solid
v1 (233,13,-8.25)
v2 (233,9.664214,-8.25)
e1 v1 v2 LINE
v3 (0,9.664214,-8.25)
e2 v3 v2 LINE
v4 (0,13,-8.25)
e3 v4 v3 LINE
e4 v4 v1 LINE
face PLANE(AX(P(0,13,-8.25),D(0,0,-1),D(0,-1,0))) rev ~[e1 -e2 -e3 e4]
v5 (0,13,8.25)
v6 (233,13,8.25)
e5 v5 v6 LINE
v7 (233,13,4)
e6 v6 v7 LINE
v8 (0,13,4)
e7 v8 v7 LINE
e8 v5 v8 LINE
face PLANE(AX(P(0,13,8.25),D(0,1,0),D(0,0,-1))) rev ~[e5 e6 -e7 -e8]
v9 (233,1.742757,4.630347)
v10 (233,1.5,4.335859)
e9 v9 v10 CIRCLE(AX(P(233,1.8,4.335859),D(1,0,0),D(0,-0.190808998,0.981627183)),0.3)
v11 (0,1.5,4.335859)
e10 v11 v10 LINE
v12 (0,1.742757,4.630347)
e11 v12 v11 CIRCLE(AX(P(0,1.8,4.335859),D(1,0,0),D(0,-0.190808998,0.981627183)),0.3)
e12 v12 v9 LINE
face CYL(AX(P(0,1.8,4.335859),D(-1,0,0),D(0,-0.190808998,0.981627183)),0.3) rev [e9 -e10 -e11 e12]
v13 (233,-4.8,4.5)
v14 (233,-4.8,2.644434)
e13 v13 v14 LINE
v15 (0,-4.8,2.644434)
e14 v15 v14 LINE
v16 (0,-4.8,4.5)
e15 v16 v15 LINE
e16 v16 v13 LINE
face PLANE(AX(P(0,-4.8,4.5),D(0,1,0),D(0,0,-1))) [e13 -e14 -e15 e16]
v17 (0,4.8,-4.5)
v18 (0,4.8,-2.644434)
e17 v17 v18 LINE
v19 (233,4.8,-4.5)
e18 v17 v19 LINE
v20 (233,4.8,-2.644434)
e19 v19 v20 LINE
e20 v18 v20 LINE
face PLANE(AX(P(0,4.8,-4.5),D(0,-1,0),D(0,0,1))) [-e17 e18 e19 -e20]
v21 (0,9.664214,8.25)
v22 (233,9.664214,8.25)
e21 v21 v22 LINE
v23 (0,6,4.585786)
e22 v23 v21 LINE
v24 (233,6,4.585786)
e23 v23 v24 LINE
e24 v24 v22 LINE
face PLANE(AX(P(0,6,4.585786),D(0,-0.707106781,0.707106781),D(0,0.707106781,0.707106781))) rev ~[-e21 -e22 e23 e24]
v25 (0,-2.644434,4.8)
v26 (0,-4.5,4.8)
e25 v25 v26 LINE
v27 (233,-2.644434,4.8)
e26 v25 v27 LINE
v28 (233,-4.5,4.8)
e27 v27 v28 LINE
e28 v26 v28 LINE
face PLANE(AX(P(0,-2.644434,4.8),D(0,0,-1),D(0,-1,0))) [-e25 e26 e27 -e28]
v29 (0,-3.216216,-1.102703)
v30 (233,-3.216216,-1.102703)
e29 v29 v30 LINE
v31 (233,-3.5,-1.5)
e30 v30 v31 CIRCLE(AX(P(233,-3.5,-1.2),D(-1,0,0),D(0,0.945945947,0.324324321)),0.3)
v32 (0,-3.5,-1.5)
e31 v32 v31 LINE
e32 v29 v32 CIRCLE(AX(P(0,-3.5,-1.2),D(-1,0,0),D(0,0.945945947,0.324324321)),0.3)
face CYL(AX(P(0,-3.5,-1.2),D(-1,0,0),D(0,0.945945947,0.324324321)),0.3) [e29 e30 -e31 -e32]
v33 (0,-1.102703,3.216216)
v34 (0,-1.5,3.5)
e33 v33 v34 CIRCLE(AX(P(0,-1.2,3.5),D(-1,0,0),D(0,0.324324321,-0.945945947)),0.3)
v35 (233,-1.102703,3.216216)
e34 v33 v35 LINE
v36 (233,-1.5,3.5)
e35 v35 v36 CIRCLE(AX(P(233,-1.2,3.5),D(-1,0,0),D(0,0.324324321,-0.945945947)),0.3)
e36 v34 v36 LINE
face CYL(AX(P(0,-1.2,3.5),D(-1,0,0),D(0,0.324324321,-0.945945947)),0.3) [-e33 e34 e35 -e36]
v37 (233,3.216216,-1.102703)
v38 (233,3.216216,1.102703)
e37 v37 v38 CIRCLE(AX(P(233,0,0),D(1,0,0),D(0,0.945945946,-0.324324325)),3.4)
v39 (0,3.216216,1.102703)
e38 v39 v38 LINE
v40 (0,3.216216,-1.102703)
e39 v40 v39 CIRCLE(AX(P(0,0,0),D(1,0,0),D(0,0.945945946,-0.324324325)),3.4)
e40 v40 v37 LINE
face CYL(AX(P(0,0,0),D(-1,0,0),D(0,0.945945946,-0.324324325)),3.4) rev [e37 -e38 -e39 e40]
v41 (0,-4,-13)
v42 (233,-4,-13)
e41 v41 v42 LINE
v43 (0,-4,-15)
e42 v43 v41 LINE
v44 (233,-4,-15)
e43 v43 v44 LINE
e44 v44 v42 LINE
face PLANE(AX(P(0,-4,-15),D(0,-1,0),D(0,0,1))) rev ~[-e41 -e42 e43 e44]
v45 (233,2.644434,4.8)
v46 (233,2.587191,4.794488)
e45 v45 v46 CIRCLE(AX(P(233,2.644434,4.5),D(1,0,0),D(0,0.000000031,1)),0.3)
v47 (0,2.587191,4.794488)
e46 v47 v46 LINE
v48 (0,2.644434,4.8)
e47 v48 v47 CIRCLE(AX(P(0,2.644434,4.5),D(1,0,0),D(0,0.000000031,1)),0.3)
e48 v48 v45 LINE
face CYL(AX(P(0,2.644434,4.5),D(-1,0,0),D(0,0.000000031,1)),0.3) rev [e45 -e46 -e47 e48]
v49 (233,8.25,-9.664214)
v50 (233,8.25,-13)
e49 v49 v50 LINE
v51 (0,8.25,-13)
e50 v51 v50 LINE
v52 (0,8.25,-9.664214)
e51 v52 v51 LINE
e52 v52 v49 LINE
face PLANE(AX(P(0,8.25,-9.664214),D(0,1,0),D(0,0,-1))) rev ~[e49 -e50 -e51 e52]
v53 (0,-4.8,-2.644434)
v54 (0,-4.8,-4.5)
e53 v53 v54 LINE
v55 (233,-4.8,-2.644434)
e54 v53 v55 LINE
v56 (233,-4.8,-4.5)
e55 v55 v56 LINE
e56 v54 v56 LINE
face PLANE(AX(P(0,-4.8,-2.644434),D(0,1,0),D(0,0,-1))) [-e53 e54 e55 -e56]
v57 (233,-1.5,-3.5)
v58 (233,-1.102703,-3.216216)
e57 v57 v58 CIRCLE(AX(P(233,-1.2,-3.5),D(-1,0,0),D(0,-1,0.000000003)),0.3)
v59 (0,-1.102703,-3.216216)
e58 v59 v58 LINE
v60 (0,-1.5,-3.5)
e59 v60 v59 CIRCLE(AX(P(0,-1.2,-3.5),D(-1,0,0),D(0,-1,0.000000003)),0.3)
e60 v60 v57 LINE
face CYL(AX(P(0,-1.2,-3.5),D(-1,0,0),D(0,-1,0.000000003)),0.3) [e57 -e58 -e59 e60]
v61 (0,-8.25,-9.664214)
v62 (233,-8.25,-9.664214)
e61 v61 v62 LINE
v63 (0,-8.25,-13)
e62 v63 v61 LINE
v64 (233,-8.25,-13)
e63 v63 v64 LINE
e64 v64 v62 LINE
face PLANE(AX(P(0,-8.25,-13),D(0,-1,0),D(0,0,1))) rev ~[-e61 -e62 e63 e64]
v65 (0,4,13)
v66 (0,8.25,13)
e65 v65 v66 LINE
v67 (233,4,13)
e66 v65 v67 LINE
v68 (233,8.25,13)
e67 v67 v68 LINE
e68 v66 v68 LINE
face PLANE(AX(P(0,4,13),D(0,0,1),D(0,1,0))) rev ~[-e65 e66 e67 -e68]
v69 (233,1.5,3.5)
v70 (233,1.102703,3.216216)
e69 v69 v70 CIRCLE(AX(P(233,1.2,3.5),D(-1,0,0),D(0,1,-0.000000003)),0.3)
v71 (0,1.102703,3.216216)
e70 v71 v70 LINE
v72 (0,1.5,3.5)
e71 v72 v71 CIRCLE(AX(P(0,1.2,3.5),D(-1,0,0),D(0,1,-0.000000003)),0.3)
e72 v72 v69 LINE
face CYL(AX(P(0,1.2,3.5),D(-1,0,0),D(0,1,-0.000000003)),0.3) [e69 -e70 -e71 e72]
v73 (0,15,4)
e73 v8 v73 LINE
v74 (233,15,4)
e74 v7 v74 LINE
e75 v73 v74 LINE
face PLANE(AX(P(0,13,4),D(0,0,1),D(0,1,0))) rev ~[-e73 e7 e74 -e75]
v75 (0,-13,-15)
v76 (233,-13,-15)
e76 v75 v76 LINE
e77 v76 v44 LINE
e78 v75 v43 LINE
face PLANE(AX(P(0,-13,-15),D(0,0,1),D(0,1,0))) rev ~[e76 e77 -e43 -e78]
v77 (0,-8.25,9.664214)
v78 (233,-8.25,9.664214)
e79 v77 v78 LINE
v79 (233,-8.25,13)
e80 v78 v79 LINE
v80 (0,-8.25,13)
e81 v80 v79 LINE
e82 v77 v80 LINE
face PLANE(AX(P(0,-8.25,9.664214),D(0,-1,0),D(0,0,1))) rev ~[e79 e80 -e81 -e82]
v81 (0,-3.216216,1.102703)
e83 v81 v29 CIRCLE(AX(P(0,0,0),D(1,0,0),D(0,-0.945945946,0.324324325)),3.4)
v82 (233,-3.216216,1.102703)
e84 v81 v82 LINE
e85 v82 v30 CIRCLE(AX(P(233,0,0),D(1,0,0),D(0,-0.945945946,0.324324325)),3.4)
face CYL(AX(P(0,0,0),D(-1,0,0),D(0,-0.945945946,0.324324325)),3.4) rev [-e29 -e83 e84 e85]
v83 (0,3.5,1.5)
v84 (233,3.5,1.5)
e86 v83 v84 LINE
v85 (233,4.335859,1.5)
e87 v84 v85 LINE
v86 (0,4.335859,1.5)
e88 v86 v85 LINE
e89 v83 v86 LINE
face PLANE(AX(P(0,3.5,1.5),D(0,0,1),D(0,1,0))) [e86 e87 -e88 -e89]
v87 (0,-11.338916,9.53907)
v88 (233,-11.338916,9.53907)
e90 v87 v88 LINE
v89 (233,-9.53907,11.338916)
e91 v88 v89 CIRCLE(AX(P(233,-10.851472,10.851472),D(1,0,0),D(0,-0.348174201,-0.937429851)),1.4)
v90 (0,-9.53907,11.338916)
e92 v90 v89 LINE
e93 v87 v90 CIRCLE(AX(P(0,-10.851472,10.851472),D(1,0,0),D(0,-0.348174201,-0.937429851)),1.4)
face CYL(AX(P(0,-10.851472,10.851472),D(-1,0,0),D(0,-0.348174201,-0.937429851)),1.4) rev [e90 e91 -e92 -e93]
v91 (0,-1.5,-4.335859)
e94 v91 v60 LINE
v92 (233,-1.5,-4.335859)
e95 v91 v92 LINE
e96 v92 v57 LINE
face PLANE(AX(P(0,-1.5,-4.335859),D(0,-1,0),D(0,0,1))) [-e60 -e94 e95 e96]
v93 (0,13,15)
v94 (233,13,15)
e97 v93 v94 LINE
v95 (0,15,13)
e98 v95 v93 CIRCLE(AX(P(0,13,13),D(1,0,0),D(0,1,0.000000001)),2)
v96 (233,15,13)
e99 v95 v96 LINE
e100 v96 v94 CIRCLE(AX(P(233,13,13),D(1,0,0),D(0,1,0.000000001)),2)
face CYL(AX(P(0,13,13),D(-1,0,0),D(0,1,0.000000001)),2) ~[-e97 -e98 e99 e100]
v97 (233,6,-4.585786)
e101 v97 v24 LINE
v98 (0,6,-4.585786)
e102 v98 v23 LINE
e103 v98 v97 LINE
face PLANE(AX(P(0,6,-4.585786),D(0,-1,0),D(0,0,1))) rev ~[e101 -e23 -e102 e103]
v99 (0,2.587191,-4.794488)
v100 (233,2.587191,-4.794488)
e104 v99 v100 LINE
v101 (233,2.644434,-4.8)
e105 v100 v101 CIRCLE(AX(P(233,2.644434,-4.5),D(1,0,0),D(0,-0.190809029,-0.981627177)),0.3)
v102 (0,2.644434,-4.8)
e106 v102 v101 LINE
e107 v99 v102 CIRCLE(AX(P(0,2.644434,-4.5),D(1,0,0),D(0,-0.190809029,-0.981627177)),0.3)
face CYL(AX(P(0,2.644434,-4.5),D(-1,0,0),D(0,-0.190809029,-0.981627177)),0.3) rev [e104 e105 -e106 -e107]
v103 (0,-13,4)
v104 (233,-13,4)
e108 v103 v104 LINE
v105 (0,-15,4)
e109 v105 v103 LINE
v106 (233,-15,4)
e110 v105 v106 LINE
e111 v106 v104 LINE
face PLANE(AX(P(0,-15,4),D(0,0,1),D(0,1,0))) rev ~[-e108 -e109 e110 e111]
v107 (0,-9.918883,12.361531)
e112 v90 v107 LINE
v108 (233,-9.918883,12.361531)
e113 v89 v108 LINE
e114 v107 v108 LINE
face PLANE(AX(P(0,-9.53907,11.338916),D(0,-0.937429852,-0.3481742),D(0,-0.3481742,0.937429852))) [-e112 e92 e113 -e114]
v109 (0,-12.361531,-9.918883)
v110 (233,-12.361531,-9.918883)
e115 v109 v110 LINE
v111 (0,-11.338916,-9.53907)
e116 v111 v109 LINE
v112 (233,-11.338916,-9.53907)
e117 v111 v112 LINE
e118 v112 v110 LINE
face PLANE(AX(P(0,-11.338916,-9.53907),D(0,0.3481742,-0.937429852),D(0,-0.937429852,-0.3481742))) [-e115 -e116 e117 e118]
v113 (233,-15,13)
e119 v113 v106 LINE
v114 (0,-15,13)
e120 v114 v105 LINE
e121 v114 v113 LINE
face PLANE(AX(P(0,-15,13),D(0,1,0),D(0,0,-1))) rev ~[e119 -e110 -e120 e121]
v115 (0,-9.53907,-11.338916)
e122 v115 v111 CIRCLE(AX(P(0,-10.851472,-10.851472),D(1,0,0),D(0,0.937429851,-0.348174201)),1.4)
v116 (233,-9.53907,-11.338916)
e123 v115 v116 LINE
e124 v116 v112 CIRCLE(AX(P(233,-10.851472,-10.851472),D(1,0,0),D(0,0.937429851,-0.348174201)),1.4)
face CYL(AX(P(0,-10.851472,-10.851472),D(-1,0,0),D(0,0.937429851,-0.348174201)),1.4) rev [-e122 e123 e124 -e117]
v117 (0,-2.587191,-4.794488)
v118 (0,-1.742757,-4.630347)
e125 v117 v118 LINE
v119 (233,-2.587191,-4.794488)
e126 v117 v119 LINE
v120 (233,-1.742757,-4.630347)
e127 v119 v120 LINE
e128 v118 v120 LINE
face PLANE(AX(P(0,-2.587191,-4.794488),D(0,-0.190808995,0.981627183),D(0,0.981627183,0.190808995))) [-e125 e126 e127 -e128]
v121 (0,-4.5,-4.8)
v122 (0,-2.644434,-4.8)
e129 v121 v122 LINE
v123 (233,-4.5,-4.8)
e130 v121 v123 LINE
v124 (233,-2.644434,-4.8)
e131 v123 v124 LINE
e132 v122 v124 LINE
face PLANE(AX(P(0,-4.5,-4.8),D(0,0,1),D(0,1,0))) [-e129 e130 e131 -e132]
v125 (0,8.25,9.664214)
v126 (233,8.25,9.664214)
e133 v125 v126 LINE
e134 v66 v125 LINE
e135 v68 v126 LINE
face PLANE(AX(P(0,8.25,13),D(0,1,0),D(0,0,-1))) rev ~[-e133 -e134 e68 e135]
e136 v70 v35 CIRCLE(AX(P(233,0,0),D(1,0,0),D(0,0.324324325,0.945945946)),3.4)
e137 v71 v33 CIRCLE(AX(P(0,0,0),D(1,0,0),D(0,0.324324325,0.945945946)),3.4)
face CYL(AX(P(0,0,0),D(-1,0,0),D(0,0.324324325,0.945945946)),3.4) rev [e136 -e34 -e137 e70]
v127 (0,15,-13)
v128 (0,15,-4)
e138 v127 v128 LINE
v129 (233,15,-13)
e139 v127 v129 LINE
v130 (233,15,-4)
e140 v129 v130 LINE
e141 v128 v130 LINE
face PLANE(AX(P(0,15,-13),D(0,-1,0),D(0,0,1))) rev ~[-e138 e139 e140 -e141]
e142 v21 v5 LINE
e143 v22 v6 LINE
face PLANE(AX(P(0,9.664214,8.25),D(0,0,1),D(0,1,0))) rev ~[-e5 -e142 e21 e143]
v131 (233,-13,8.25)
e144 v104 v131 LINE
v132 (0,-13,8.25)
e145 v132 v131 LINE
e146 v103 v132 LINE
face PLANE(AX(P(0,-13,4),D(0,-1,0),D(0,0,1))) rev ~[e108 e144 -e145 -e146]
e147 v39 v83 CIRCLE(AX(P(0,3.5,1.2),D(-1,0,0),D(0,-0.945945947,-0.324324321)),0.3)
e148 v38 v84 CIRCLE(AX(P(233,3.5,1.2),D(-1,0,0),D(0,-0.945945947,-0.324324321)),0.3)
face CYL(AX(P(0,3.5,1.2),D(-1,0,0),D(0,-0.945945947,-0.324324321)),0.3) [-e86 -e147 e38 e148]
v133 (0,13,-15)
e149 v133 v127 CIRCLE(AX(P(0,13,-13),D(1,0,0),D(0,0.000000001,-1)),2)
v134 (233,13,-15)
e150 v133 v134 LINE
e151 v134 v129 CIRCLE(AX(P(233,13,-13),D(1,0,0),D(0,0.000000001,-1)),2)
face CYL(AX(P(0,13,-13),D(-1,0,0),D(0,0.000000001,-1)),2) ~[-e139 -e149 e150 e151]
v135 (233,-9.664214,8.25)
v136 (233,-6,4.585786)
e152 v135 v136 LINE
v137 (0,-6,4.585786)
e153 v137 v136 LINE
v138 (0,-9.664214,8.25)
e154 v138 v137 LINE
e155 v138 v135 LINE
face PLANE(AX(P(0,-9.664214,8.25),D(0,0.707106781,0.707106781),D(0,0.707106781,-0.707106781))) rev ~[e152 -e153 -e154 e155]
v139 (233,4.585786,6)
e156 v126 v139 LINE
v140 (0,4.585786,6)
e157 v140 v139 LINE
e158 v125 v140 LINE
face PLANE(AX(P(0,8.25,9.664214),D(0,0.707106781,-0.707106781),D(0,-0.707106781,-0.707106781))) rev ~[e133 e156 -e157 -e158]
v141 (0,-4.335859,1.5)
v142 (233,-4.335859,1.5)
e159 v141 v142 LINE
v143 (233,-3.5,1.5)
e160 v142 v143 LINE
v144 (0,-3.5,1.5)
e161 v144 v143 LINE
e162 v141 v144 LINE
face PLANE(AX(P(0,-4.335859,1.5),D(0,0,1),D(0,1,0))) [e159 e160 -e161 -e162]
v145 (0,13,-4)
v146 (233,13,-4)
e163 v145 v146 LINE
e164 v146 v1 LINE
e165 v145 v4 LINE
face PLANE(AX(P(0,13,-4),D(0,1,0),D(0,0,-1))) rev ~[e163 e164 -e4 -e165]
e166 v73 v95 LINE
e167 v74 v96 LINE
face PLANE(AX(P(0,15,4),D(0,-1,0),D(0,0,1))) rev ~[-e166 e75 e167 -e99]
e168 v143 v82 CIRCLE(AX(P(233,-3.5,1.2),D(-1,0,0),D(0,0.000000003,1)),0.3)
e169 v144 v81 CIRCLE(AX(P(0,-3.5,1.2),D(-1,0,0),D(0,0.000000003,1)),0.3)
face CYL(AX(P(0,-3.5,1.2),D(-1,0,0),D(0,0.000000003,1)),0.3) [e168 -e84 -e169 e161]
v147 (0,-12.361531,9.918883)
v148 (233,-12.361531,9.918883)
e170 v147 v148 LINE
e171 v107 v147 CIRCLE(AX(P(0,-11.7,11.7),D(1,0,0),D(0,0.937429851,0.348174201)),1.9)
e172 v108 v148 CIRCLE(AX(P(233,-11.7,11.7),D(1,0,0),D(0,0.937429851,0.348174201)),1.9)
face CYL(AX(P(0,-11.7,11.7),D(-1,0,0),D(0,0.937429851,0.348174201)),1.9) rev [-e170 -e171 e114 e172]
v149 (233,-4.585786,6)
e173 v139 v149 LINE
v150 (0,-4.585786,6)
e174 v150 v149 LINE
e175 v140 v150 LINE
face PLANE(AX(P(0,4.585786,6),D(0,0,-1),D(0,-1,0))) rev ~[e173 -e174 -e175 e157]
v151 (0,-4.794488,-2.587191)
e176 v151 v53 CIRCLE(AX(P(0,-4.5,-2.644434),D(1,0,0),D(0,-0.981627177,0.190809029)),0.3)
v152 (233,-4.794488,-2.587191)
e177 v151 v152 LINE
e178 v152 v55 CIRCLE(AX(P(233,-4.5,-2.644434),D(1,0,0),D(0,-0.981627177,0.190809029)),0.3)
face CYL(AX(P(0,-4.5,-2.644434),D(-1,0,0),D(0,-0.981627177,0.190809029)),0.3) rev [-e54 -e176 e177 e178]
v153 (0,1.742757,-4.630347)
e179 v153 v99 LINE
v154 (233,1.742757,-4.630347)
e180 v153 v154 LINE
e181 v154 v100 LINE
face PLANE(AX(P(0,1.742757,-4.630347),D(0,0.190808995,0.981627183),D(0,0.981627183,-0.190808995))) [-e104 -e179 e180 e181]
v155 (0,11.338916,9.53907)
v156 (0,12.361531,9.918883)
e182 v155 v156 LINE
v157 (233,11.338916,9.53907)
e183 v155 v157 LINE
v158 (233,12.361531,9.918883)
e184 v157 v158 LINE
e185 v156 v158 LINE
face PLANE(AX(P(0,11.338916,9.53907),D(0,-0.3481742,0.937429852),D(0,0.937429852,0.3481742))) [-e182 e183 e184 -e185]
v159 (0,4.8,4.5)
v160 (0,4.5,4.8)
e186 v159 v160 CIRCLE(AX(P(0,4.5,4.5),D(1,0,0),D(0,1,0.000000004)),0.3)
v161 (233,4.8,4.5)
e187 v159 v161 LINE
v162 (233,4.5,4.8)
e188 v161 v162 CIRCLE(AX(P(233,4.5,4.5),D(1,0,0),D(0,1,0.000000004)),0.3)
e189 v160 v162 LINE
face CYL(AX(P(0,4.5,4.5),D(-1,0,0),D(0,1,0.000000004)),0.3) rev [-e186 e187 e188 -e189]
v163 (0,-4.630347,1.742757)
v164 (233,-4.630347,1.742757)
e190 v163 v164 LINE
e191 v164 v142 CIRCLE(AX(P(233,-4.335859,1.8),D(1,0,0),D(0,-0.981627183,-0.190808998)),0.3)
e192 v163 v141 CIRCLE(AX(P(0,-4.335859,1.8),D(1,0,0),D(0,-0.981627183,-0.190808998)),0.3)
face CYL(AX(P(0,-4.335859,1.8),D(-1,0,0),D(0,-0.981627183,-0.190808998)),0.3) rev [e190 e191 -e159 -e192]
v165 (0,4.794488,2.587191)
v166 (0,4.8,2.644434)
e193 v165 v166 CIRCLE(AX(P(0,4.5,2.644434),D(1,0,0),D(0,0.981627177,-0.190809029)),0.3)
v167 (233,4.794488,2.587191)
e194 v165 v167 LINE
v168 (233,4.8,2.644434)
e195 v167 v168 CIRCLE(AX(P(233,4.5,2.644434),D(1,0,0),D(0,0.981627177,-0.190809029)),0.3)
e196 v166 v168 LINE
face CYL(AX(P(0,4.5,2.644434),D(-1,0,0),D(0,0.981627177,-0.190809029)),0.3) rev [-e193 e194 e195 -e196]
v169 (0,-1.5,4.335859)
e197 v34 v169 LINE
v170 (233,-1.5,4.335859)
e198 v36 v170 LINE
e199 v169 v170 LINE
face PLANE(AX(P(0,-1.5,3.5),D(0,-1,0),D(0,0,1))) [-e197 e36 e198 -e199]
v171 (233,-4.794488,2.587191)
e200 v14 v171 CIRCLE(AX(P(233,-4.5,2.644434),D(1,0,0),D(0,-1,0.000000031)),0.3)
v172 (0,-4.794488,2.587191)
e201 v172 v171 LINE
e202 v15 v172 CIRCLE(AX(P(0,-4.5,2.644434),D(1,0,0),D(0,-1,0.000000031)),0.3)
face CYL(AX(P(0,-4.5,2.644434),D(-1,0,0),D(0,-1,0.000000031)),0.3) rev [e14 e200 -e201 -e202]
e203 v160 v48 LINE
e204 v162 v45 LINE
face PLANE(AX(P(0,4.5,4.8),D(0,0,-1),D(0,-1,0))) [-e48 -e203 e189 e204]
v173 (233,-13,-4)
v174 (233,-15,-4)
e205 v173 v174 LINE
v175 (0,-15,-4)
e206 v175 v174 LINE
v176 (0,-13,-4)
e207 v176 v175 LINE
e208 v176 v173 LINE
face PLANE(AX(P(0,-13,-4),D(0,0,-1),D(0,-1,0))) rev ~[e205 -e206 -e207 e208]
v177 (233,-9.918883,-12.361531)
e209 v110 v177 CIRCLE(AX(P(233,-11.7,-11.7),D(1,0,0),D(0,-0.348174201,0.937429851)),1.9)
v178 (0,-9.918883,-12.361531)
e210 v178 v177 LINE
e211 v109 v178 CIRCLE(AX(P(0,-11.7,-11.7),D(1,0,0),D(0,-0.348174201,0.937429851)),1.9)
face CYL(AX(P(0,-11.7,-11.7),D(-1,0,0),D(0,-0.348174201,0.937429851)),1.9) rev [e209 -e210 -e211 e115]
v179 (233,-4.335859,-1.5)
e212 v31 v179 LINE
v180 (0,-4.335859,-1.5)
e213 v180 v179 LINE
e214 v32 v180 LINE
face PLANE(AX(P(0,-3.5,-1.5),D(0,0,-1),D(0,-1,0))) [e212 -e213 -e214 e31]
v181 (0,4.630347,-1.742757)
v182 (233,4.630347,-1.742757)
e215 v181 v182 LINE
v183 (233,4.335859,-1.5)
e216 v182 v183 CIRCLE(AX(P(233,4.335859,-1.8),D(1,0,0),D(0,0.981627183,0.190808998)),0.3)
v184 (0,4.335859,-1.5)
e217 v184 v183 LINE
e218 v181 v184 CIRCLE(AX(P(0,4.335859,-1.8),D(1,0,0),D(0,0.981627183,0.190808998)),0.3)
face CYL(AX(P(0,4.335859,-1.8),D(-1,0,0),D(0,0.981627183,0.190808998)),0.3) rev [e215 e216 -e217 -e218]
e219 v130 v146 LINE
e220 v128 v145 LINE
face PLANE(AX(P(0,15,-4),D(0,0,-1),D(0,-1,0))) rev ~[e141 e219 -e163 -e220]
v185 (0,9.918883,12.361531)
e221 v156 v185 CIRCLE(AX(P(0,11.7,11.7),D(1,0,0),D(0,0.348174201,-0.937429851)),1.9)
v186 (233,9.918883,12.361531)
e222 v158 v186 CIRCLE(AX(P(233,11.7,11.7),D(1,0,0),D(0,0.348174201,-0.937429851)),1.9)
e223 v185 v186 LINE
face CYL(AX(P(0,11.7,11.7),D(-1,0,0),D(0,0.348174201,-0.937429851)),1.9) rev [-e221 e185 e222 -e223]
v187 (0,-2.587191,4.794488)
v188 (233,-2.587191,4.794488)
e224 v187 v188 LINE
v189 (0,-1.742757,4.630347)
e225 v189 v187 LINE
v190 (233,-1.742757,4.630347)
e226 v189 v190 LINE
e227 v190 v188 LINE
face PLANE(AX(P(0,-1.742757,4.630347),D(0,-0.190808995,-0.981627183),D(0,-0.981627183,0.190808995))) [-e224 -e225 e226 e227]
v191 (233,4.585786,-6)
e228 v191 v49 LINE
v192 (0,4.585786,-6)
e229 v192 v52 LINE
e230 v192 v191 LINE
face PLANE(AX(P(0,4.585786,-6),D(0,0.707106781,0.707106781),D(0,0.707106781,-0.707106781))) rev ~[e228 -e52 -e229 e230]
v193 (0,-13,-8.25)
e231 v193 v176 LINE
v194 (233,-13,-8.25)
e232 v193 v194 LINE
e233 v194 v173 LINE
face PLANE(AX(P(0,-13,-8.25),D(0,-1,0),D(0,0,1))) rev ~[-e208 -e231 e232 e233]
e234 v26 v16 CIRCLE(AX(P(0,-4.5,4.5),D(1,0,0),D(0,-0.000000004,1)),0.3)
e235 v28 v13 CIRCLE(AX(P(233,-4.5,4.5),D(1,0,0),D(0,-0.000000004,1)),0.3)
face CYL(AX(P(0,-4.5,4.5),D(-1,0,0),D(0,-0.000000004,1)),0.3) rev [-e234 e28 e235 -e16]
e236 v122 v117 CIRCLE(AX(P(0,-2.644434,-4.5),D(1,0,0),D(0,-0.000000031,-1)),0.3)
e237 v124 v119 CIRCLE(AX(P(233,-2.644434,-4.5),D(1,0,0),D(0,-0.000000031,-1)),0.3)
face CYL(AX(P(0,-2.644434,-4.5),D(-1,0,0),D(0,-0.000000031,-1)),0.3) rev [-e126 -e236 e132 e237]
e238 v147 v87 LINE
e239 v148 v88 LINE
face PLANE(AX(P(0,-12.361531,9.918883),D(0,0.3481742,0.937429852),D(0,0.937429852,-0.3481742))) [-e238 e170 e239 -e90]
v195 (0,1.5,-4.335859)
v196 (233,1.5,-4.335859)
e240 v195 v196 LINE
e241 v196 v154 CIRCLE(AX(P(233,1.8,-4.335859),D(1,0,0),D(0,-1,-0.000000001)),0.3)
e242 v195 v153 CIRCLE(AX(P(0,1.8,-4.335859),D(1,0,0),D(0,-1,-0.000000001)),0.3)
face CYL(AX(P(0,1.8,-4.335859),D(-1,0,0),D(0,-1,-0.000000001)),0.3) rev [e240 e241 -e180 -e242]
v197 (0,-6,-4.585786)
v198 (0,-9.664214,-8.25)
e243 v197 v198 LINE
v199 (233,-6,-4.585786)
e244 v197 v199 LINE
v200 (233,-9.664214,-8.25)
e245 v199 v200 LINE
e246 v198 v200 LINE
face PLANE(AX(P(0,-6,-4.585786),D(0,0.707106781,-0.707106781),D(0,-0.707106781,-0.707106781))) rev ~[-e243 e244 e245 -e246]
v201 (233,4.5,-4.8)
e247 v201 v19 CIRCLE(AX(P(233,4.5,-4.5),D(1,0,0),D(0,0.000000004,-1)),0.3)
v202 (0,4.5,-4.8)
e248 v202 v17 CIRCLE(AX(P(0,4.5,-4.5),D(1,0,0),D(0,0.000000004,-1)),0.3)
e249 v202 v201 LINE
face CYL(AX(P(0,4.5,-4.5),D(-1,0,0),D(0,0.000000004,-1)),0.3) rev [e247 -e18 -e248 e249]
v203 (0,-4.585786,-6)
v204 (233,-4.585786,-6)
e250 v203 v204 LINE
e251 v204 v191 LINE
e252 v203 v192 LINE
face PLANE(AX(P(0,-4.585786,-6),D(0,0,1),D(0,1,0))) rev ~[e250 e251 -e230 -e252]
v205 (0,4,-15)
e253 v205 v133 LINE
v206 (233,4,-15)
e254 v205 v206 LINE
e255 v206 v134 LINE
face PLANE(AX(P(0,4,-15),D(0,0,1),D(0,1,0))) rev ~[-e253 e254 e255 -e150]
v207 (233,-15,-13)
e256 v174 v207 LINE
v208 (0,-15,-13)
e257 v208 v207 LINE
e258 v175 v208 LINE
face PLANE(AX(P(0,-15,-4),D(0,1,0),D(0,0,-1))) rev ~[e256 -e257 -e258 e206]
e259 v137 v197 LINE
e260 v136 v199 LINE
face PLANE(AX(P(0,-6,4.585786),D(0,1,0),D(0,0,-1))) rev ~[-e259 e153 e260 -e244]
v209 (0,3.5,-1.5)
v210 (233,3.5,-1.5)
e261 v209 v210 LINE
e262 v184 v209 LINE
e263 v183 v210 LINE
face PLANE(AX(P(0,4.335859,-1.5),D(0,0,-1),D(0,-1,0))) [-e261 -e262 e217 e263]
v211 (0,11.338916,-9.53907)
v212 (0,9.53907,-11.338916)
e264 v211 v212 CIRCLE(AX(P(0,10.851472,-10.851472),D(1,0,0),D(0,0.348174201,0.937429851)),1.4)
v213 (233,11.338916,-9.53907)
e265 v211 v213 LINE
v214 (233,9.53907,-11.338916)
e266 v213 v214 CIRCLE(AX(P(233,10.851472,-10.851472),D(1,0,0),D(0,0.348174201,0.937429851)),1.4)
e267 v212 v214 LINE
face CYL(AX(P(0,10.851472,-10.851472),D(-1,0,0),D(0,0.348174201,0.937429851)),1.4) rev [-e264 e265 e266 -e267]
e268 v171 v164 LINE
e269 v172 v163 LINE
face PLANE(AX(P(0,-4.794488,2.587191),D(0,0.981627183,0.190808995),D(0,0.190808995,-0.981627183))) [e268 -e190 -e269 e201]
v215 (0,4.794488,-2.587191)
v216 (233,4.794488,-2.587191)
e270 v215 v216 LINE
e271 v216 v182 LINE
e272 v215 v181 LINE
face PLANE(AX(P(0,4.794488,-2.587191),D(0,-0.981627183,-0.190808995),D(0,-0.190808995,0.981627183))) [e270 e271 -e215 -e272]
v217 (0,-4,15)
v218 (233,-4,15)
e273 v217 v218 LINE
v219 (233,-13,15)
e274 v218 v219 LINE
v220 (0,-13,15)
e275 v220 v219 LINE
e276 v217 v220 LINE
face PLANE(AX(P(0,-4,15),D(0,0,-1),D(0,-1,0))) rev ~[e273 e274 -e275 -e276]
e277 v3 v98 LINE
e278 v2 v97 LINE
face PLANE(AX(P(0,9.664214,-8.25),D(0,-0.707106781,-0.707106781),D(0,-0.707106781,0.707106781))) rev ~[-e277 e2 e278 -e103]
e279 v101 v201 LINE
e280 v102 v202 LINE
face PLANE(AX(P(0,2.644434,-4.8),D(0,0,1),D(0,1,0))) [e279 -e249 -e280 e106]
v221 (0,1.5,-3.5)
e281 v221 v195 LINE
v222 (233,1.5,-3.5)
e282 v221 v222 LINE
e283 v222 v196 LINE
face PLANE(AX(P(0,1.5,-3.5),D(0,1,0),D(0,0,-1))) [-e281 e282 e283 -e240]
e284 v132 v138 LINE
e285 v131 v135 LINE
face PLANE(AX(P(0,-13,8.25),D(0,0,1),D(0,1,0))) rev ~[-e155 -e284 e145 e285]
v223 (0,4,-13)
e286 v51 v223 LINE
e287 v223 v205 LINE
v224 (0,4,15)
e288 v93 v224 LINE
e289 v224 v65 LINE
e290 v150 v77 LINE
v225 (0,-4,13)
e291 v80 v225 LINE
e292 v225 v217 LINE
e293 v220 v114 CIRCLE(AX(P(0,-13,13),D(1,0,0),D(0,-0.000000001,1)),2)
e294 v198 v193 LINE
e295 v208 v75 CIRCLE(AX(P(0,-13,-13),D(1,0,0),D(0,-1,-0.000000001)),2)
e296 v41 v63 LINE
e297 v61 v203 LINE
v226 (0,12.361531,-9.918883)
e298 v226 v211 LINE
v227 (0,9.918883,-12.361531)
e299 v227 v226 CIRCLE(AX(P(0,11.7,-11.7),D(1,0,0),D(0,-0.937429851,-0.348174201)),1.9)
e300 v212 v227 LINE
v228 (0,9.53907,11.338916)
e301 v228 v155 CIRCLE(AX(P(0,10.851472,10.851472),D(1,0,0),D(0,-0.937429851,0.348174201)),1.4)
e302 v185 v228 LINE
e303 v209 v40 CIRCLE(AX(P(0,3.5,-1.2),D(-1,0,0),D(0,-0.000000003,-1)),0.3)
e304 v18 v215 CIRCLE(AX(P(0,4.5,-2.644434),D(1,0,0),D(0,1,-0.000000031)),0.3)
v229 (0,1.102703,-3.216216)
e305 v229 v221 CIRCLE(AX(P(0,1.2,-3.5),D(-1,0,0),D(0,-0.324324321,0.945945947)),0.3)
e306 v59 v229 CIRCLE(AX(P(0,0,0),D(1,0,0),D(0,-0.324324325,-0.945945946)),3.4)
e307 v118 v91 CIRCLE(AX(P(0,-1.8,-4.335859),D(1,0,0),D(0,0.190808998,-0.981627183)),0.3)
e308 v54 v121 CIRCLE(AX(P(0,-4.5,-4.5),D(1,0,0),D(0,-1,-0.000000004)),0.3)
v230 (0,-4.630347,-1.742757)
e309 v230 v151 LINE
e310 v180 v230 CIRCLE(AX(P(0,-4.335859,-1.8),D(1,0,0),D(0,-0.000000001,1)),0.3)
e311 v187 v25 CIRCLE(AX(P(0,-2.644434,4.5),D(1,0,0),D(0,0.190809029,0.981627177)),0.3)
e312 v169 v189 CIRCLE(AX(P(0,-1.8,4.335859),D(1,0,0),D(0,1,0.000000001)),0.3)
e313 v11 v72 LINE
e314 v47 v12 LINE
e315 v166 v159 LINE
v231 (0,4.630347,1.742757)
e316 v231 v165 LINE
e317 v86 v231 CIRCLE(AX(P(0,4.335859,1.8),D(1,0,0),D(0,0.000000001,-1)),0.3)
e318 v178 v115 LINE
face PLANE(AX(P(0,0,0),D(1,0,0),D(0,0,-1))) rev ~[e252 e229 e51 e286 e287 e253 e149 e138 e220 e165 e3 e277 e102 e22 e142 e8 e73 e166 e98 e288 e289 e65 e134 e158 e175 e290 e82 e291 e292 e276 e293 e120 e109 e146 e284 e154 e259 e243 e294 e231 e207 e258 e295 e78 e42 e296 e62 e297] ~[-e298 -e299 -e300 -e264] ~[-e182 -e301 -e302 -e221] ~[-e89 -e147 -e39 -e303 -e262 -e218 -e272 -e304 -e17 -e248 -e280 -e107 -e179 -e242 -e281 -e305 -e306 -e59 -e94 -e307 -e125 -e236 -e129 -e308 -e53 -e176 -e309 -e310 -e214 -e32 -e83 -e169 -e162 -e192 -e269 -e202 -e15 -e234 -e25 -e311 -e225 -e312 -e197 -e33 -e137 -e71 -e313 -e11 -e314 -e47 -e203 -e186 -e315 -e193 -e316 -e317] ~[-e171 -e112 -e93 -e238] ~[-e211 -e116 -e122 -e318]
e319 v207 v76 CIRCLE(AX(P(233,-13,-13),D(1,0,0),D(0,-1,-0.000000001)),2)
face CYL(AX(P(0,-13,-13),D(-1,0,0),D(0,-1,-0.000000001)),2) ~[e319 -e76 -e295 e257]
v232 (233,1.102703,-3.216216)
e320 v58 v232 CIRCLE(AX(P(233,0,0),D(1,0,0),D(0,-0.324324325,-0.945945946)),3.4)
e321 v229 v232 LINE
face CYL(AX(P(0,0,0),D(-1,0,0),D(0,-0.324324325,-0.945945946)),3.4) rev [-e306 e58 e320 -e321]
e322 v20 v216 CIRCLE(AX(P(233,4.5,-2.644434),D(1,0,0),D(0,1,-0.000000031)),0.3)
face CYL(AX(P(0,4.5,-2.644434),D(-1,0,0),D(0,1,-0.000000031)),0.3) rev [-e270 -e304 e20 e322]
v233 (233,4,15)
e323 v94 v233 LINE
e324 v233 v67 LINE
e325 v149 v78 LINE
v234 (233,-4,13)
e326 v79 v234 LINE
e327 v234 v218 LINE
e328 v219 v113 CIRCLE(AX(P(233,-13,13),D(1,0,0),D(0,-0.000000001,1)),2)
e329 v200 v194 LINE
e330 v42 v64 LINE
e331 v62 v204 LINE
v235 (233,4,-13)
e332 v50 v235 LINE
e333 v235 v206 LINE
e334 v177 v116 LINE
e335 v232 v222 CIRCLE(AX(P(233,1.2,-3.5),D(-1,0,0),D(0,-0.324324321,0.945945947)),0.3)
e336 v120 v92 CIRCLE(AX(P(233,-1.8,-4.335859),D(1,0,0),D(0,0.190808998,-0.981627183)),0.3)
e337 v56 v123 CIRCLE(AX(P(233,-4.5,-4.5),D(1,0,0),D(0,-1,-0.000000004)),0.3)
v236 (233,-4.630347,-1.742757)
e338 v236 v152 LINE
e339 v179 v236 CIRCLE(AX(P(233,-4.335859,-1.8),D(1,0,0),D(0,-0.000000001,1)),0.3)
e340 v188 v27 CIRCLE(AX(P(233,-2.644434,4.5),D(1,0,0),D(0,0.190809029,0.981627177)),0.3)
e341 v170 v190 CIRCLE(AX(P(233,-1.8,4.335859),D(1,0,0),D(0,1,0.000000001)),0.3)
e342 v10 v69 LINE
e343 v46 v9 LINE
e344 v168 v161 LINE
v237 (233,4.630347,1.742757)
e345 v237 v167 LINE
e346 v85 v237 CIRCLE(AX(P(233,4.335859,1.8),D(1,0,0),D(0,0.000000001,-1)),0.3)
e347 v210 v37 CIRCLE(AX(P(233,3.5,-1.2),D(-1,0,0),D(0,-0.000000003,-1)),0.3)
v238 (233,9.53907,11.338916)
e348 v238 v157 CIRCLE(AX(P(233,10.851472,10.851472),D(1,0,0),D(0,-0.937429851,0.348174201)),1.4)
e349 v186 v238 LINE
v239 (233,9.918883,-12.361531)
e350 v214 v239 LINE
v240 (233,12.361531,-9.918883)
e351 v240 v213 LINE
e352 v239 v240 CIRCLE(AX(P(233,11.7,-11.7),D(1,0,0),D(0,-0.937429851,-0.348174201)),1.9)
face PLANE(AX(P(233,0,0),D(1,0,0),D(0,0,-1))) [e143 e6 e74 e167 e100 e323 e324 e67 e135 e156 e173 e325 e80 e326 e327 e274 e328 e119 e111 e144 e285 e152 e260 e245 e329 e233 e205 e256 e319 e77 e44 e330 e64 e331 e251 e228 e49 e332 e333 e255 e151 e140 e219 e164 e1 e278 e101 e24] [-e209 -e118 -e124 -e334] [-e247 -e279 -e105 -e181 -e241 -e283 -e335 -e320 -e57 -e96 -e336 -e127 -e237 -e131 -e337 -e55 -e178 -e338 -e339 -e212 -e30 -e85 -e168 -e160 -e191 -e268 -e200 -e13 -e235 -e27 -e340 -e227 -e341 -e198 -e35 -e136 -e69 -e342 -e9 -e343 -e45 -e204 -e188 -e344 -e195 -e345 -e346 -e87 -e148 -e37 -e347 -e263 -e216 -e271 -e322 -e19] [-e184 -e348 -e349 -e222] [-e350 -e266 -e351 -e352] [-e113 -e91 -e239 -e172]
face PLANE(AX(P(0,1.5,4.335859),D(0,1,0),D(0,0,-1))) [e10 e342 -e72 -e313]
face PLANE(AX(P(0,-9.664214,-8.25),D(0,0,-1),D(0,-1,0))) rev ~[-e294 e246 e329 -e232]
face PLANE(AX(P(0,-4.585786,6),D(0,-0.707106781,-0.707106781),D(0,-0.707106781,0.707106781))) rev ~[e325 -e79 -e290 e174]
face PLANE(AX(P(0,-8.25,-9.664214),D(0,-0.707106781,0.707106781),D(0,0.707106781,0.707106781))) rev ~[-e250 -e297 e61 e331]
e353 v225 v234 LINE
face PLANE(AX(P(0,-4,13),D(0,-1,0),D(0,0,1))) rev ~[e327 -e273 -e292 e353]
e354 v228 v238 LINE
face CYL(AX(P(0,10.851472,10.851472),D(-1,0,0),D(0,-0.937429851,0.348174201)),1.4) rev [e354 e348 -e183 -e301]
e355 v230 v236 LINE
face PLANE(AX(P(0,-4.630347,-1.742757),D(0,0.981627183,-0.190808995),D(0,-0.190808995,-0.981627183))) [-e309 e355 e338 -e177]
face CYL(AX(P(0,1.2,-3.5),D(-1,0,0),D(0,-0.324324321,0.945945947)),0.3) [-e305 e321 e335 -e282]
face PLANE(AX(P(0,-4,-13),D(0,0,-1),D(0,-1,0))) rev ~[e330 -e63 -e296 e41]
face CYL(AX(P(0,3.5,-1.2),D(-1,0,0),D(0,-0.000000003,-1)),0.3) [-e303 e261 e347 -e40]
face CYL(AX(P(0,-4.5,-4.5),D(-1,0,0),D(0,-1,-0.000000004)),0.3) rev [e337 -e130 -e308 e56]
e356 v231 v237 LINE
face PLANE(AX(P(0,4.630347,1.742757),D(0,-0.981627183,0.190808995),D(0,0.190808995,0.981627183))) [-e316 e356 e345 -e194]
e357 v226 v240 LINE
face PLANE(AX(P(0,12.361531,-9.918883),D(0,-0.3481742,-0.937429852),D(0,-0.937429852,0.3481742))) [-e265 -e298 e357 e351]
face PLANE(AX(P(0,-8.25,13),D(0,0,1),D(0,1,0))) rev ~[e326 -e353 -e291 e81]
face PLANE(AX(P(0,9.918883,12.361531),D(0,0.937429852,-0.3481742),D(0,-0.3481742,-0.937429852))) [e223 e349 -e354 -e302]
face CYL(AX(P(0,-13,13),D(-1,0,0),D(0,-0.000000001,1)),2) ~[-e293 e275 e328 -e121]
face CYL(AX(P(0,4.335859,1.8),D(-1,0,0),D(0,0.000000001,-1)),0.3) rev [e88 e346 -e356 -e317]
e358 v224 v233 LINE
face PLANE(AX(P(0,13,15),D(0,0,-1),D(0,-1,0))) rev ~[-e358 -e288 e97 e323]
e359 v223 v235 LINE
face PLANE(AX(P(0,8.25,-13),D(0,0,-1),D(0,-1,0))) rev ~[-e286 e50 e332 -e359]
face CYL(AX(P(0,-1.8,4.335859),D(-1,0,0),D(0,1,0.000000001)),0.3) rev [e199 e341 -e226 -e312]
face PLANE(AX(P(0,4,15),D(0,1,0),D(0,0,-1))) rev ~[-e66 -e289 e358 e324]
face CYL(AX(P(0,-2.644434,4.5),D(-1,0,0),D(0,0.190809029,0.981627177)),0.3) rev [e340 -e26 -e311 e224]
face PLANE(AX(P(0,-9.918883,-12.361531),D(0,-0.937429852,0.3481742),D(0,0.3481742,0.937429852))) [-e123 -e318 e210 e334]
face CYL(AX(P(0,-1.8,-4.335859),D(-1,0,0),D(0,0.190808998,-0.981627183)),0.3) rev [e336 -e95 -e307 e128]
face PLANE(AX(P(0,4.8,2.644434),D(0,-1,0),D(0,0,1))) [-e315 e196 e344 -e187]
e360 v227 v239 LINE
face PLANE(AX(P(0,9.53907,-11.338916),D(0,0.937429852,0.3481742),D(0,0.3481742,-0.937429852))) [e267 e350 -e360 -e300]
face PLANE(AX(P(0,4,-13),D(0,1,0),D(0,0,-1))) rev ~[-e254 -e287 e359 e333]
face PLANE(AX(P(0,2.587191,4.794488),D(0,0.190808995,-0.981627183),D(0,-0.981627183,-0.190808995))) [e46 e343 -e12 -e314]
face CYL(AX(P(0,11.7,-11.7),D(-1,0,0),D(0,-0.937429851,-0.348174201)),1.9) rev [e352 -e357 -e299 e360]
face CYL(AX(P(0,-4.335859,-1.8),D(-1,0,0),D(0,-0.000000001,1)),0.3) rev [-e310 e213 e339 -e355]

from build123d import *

# Parameters (mm, degrees)
BOSS_EXTRUDE1_DEPTH = 233


with BuildPart() as part:
    # Sketch1 → Boss-Extrude1 (new body)
    with BuildSketch(Plane(origin=(0, 0, 0), x_dir=(0, 0, -1), z_dir=(1, 0, 0))):
        with BuildLine():
            Line((-15, 13), (-15, 4))
            Line((-15, 4), (-13, 4))
            Line((-13, 4), (-13, 8.25))
            Line((-13, 8.25), (-9.664213562, 8.25))
            Line((-9.664213562, 8.25), (-6, 4.585786438))
            Line((-6, 4.585786438), (-6, -4.585786438))
            Line((-6, -4.585786438), (-9.664213562, -8.25))
            Line((-9.664213562, -8.25), (-13, -8.25))
            Line((-13, -8.25), (-13, -4))
            Line((-13, -4), (-15, -4))
            Line((-15, -4), (-15, -13))
            ThreePointArc((-15, -13), (-14.414213562, -14.414213562), (-13, -15))
            Line((-13, -15), (-4, -15))
            Line((-4, -15), (-4, -13))
            Line((-4, -13), (-8.25, -13))
            Line((-8.25, -13), (-8.25, -9.664213562))
            Line((-8.25, -9.664213562), (-4.585786438, -6))
            Line((-4.585786438, -6), (4.585786438, -6))
            Line((4.585786438, -6), (8.25, -9.664213562))
            Line((8.25, -9.664213562), (8.25, -13))
            Line((8.25, -13), (4, -13))
            Line((4, -13), (4, -15))
            Line((4, -15), (13, -15))
            ThreePointArc((13, -15), (14.414213562, -14.414213562), (15, -13))
            Line((15, -13), (15, -4))
            Line((15, -4), (13, -4))
            Line((13, -4), (13, -8.25))
            Line((13, -8.25), (9.664213562, -8.25))
            Line((9.664213562, -8.25), (6, -4.585786438))
            Line((6, -4.585786438), (6, 4.585786438))
            Line((6, 4.585786438), (9.664213562, 8.25))
            Line((9.664213562, 8.25), (13, 8.25))
            Line((13, 8.25), (13, 4))
            Line((13, 4), (15, 4))
            Line((15, 4), (15, 13))
            ThreePointArc((15, 13), (14.414213562, 14.414213562), (13, 15))
            Line((13, 15), (4, 15))
            Line((4, 15), (4, 13))
            Line((4, 13), (8.25, 13))
            Line((8.25, 13), (8.25, 9.664213562))
            Line((8.25, 9.664213562), (4.585786438, 6))
            Line((4.585786438, 6), (-4.585786438, 6))
            Line((-4.585786438, 6), (-8.25, 9.664213562))
            Line((-8.25, 9.664213562), (-8.25, 13))
            Line((-8.25, 13), (-4, 13))
            Line((-4, 13), (-4, 15))
            Line((-4, 15), (-13, 15))
            ThreePointArc((-13, 15), (-14.414213562, 14.414213562), (-15, 13))
        make_face()
        with BuildLine():
            Line((-9.539070071, 11.338915743), (-9.918883282, 12.361530981))
            ThreePointArc((-9.918883282, 12.361530981), (-13.043502884, 13.043502884), (-12.361530981, 9.918883282))
            Line((-12.361530981, 9.918883282), (-11.338915743, 9.539070071))
            ThreePointArc((-11.338915743, 9.539070071), (-9.861522369, 9.861522369), (-9.539070071, 11.338915743))
        make_face(mode=Mode.SUBTRACT)
        with BuildLine():
            Line((9.918883282, 12.361530981), (9.539070071, 11.338915743))
            ThreePointArc((9.539070071, 11.338915743), (9.861522369, 9.861522369), (11.338915743, 9.539070071))
            Line((11.338915743, 9.539070071), (12.361530981, 9.918883282))
            ThreePointArc((12.361530981, 9.918883282), (13.043502884, 13.043502884), (9.918883282, 12.361530981))
        make_face(mode=Mode.SUBTRACT)
        with BuildLine():
            Line((12.361530981, -9.918883282), (11.338915743, -9.539070071))
            ThreePointArc((11.338915743, -9.539070071), (9.861522369, -9.861522369), (9.539070071, -11.338915743))
            Line((9.539070071, -11.338915743), (9.918883282, -12.361530981))
            ThreePointArc((9.918883282, -12.361530981), (13.043502884, -13.043502884), (12.361530981, -9.918883282))
        make_face(mode=Mode.SUBTRACT)
        with BuildLine():
            Line((-11.338915743, -9.539070071), (-12.361530981, -9.918883282))
            ThreePointArc((-12.361530981, -9.918883282), (-13.043502884, -13.043502884), (-9.918883282, -12.361530981))
            Line((-9.918883282, -12.361530981), (-9.539070071, -11.338915743))
            ThreePointArc((-9.539070071, -11.338915743), (-9.861522369, -9.861522369), (-11.338915743, -9.539070071))
        make_face(mode=Mode.SUBTRACT)
        with BuildLine():
            Line((-4.8, -2.644433572), (-4.8, -4.5))
            ThreePointArc((-4.8, -4.5), (-4.712132034, -4.712132034), (-4.5, -4.8))
            Line((-4.5, -4.8), (-2.644433572, -4.8))
            ThreePointArc((-2.644433572, -4.8), (-2.615679847, -4.79861886), (-2.587190874, -4.794488155))
            Line((-2.587190874, -4.794488155), (-1.742757301, -4.630346896))
            ThreePointArc((-1.742757301, -4.630346896), (-1.568512625, -4.526682207), (-1.5, -4.335858741))
            Line((-1.5, -4.335858741), (-1.5, -3.5))
            ThreePointArc((-1.5, -3.5), (-1.374371458, -3.255879959), (-1.102702703, -3.216216216))
            ThreePointArc((-1.102702703, -3.216216216), (0, -3.4), (1.102702703, -3.216216216))
            ThreePointArc((1.102702703, -3.216216216), (1.374371458, -3.255879959), (1.5, -3.5))
            Line((1.5, -3.5), (1.5, -4.335858741))
            ThreePointArc((1.5, -4.335858741), (1.568512625, -4.526682207), (1.742757301, -4.630346896))
            Line((1.742757301, -4.630346896), (2.587190874, -4.794488155))
            ThreePointArc((2.587190874, -4.794488155), (2.615679847, -4.79861886), (2.644433572, -4.8))
            Line((2.644433572, -4.8), (4.5, -4.8))
            ThreePointArc((4.5, -4.8), (4.712132034, -4.712132034), (4.8, -4.5))
            Line((4.8, -4.5), (4.8, -2.644433572))
            ThreePointArc((4.8, -2.644433572), (4.79861886, -2.615679847), (4.794488155, -2.587190874))
            Line((4.794488155, -2.587190874), (4.630346896, -1.742757301))
            ThreePointArc((4.630346896, -1.742757301), (4.526682207, -1.568512625), (4.335858741, -1.5))
            Line((4.335858741, -1.5), (3.5, -1.5))
            ThreePointArc((3.5, -1.5), (3.255879959, -1.374371458), (3.216216216, -1.102702703))
            ThreePointArc((3.216216216, -1.102702703), (3.4, 0), (3.216216216, 1.102702703))
            ThreePointArc((3.216216216, 1.102702703), (3.255879959, 1.374371458), (3.5, 1.5))
            Line((3.5, 1.5), (4.335858741, 1.5))
            ThreePointArc((4.335858741, 1.5), (4.526682207, 1.568512625), (4.630346896, 1.742757301))
            Line((4.630346896, 1.742757301), (4.794488155, 2.587190874))
            ThreePointArc((4.794488155, 2.587190874), (4.79861886, 2.615679847), (4.8, 2.644433572))
            Line((4.8, 2.644433572), (4.8, 4.5))
            ThreePointArc((4.8, 4.5), (4.712132034, 4.712132034), (4.5, 4.8))
            Line((4.5, 4.8), (2.644433572, 4.8))
            ThreePointArc((2.644433572, 4.8), (2.615679847, 4.79861886), (2.587190874, 4.794488155))
            Line((2.587190874, 4.794488155), (1.742757301, 4.630346896))
            ThreePointArc((1.742757301, 4.630346896), (1.568512625, 4.526682207), (1.5, 4.335858741))
            Line((1.5, 4.335858741), (1.5, 3.5))
            ThreePointArc((1.5, 3.5), (1.374371458, 3.255879959), (1.102702703, 3.216216216))
            ThreePointArc((1.102702703, 3.216216216), (0, 3.4), (-1.102702703, 3.216216216))
            ThreePointArc((-1.102702703, 3.216216216), (-1.374371458, 3.255879959), (-1.5, 3.5))
            Line((-1.5, 3.5), (-1.5, 4.335858741))
            ThreePointArc((-1.5, 4.335858741), (-1.568512625, 4.526682207), (-1.742757301, 4.630346896))
            Line((-1.742757301, 4.630346896), (-2.587190874, 4.794488155))
            ThreePointArc((-2.587190874, 4.794488155), (-2.615679847, 4.79861886), (-2.644433572, 4.8))
            Line((-2.644433572, 4.8), (-4.5, 4.8))
            ThreePointArc((-4.5, 4.8), (-4.712132034, 4.712132034), (-4.8, 4.5))
            Line((-4.8, 4.5), (-4.8, 2.644433572))
            ThreePointArc((-4.8, 2.644433572), (-4.79861886, 2.615679847), (-4.794488155, 2.587190874))
            Line((-4.794488155, 2.587190874), (-4.630346896, 1.742757301))
            ThreePointArc((-4.630346896, 1.742757301), (-4.526682207, 1.568512625), (-4.335858741, 1.5))
            Line((-4.335858741, 1.5), (-3.5, 1.5))
            ThreePointArc((-3.5, 1.5), (-3.255879959, 1.374371458), (-3.216216216, 1.102702703))
            ThreePointArc((-3.216216216, 1.102702703), (-3.4, 0), (-3.216216216, -1.102702703))
            ThreePointArc((-3.216216216, -1.102702703), (-3.255879959, -1.374371458), (-3.5, -1.5))
            Line((-3.5, -1.5), (-4.335858741, -1.5))
            ThreePointArc((-4.335858741, -1.5), (-4.526682207, -1.568512625), (-4.630346896, -1.742757301))
            Line((-4.630346896, -1.742757301), (-4.794488155, -2.587190874))
            ThreePointArc((-4.794488155, -2.587190874), (-4.79861886, -2.615679847), (-4.8, -2.644433572))
        make_face(mode=Mode.SUBTRACT)
    extrude(amount=BOSS_EXTRUDE1_DEPTH)


solid = part.part
